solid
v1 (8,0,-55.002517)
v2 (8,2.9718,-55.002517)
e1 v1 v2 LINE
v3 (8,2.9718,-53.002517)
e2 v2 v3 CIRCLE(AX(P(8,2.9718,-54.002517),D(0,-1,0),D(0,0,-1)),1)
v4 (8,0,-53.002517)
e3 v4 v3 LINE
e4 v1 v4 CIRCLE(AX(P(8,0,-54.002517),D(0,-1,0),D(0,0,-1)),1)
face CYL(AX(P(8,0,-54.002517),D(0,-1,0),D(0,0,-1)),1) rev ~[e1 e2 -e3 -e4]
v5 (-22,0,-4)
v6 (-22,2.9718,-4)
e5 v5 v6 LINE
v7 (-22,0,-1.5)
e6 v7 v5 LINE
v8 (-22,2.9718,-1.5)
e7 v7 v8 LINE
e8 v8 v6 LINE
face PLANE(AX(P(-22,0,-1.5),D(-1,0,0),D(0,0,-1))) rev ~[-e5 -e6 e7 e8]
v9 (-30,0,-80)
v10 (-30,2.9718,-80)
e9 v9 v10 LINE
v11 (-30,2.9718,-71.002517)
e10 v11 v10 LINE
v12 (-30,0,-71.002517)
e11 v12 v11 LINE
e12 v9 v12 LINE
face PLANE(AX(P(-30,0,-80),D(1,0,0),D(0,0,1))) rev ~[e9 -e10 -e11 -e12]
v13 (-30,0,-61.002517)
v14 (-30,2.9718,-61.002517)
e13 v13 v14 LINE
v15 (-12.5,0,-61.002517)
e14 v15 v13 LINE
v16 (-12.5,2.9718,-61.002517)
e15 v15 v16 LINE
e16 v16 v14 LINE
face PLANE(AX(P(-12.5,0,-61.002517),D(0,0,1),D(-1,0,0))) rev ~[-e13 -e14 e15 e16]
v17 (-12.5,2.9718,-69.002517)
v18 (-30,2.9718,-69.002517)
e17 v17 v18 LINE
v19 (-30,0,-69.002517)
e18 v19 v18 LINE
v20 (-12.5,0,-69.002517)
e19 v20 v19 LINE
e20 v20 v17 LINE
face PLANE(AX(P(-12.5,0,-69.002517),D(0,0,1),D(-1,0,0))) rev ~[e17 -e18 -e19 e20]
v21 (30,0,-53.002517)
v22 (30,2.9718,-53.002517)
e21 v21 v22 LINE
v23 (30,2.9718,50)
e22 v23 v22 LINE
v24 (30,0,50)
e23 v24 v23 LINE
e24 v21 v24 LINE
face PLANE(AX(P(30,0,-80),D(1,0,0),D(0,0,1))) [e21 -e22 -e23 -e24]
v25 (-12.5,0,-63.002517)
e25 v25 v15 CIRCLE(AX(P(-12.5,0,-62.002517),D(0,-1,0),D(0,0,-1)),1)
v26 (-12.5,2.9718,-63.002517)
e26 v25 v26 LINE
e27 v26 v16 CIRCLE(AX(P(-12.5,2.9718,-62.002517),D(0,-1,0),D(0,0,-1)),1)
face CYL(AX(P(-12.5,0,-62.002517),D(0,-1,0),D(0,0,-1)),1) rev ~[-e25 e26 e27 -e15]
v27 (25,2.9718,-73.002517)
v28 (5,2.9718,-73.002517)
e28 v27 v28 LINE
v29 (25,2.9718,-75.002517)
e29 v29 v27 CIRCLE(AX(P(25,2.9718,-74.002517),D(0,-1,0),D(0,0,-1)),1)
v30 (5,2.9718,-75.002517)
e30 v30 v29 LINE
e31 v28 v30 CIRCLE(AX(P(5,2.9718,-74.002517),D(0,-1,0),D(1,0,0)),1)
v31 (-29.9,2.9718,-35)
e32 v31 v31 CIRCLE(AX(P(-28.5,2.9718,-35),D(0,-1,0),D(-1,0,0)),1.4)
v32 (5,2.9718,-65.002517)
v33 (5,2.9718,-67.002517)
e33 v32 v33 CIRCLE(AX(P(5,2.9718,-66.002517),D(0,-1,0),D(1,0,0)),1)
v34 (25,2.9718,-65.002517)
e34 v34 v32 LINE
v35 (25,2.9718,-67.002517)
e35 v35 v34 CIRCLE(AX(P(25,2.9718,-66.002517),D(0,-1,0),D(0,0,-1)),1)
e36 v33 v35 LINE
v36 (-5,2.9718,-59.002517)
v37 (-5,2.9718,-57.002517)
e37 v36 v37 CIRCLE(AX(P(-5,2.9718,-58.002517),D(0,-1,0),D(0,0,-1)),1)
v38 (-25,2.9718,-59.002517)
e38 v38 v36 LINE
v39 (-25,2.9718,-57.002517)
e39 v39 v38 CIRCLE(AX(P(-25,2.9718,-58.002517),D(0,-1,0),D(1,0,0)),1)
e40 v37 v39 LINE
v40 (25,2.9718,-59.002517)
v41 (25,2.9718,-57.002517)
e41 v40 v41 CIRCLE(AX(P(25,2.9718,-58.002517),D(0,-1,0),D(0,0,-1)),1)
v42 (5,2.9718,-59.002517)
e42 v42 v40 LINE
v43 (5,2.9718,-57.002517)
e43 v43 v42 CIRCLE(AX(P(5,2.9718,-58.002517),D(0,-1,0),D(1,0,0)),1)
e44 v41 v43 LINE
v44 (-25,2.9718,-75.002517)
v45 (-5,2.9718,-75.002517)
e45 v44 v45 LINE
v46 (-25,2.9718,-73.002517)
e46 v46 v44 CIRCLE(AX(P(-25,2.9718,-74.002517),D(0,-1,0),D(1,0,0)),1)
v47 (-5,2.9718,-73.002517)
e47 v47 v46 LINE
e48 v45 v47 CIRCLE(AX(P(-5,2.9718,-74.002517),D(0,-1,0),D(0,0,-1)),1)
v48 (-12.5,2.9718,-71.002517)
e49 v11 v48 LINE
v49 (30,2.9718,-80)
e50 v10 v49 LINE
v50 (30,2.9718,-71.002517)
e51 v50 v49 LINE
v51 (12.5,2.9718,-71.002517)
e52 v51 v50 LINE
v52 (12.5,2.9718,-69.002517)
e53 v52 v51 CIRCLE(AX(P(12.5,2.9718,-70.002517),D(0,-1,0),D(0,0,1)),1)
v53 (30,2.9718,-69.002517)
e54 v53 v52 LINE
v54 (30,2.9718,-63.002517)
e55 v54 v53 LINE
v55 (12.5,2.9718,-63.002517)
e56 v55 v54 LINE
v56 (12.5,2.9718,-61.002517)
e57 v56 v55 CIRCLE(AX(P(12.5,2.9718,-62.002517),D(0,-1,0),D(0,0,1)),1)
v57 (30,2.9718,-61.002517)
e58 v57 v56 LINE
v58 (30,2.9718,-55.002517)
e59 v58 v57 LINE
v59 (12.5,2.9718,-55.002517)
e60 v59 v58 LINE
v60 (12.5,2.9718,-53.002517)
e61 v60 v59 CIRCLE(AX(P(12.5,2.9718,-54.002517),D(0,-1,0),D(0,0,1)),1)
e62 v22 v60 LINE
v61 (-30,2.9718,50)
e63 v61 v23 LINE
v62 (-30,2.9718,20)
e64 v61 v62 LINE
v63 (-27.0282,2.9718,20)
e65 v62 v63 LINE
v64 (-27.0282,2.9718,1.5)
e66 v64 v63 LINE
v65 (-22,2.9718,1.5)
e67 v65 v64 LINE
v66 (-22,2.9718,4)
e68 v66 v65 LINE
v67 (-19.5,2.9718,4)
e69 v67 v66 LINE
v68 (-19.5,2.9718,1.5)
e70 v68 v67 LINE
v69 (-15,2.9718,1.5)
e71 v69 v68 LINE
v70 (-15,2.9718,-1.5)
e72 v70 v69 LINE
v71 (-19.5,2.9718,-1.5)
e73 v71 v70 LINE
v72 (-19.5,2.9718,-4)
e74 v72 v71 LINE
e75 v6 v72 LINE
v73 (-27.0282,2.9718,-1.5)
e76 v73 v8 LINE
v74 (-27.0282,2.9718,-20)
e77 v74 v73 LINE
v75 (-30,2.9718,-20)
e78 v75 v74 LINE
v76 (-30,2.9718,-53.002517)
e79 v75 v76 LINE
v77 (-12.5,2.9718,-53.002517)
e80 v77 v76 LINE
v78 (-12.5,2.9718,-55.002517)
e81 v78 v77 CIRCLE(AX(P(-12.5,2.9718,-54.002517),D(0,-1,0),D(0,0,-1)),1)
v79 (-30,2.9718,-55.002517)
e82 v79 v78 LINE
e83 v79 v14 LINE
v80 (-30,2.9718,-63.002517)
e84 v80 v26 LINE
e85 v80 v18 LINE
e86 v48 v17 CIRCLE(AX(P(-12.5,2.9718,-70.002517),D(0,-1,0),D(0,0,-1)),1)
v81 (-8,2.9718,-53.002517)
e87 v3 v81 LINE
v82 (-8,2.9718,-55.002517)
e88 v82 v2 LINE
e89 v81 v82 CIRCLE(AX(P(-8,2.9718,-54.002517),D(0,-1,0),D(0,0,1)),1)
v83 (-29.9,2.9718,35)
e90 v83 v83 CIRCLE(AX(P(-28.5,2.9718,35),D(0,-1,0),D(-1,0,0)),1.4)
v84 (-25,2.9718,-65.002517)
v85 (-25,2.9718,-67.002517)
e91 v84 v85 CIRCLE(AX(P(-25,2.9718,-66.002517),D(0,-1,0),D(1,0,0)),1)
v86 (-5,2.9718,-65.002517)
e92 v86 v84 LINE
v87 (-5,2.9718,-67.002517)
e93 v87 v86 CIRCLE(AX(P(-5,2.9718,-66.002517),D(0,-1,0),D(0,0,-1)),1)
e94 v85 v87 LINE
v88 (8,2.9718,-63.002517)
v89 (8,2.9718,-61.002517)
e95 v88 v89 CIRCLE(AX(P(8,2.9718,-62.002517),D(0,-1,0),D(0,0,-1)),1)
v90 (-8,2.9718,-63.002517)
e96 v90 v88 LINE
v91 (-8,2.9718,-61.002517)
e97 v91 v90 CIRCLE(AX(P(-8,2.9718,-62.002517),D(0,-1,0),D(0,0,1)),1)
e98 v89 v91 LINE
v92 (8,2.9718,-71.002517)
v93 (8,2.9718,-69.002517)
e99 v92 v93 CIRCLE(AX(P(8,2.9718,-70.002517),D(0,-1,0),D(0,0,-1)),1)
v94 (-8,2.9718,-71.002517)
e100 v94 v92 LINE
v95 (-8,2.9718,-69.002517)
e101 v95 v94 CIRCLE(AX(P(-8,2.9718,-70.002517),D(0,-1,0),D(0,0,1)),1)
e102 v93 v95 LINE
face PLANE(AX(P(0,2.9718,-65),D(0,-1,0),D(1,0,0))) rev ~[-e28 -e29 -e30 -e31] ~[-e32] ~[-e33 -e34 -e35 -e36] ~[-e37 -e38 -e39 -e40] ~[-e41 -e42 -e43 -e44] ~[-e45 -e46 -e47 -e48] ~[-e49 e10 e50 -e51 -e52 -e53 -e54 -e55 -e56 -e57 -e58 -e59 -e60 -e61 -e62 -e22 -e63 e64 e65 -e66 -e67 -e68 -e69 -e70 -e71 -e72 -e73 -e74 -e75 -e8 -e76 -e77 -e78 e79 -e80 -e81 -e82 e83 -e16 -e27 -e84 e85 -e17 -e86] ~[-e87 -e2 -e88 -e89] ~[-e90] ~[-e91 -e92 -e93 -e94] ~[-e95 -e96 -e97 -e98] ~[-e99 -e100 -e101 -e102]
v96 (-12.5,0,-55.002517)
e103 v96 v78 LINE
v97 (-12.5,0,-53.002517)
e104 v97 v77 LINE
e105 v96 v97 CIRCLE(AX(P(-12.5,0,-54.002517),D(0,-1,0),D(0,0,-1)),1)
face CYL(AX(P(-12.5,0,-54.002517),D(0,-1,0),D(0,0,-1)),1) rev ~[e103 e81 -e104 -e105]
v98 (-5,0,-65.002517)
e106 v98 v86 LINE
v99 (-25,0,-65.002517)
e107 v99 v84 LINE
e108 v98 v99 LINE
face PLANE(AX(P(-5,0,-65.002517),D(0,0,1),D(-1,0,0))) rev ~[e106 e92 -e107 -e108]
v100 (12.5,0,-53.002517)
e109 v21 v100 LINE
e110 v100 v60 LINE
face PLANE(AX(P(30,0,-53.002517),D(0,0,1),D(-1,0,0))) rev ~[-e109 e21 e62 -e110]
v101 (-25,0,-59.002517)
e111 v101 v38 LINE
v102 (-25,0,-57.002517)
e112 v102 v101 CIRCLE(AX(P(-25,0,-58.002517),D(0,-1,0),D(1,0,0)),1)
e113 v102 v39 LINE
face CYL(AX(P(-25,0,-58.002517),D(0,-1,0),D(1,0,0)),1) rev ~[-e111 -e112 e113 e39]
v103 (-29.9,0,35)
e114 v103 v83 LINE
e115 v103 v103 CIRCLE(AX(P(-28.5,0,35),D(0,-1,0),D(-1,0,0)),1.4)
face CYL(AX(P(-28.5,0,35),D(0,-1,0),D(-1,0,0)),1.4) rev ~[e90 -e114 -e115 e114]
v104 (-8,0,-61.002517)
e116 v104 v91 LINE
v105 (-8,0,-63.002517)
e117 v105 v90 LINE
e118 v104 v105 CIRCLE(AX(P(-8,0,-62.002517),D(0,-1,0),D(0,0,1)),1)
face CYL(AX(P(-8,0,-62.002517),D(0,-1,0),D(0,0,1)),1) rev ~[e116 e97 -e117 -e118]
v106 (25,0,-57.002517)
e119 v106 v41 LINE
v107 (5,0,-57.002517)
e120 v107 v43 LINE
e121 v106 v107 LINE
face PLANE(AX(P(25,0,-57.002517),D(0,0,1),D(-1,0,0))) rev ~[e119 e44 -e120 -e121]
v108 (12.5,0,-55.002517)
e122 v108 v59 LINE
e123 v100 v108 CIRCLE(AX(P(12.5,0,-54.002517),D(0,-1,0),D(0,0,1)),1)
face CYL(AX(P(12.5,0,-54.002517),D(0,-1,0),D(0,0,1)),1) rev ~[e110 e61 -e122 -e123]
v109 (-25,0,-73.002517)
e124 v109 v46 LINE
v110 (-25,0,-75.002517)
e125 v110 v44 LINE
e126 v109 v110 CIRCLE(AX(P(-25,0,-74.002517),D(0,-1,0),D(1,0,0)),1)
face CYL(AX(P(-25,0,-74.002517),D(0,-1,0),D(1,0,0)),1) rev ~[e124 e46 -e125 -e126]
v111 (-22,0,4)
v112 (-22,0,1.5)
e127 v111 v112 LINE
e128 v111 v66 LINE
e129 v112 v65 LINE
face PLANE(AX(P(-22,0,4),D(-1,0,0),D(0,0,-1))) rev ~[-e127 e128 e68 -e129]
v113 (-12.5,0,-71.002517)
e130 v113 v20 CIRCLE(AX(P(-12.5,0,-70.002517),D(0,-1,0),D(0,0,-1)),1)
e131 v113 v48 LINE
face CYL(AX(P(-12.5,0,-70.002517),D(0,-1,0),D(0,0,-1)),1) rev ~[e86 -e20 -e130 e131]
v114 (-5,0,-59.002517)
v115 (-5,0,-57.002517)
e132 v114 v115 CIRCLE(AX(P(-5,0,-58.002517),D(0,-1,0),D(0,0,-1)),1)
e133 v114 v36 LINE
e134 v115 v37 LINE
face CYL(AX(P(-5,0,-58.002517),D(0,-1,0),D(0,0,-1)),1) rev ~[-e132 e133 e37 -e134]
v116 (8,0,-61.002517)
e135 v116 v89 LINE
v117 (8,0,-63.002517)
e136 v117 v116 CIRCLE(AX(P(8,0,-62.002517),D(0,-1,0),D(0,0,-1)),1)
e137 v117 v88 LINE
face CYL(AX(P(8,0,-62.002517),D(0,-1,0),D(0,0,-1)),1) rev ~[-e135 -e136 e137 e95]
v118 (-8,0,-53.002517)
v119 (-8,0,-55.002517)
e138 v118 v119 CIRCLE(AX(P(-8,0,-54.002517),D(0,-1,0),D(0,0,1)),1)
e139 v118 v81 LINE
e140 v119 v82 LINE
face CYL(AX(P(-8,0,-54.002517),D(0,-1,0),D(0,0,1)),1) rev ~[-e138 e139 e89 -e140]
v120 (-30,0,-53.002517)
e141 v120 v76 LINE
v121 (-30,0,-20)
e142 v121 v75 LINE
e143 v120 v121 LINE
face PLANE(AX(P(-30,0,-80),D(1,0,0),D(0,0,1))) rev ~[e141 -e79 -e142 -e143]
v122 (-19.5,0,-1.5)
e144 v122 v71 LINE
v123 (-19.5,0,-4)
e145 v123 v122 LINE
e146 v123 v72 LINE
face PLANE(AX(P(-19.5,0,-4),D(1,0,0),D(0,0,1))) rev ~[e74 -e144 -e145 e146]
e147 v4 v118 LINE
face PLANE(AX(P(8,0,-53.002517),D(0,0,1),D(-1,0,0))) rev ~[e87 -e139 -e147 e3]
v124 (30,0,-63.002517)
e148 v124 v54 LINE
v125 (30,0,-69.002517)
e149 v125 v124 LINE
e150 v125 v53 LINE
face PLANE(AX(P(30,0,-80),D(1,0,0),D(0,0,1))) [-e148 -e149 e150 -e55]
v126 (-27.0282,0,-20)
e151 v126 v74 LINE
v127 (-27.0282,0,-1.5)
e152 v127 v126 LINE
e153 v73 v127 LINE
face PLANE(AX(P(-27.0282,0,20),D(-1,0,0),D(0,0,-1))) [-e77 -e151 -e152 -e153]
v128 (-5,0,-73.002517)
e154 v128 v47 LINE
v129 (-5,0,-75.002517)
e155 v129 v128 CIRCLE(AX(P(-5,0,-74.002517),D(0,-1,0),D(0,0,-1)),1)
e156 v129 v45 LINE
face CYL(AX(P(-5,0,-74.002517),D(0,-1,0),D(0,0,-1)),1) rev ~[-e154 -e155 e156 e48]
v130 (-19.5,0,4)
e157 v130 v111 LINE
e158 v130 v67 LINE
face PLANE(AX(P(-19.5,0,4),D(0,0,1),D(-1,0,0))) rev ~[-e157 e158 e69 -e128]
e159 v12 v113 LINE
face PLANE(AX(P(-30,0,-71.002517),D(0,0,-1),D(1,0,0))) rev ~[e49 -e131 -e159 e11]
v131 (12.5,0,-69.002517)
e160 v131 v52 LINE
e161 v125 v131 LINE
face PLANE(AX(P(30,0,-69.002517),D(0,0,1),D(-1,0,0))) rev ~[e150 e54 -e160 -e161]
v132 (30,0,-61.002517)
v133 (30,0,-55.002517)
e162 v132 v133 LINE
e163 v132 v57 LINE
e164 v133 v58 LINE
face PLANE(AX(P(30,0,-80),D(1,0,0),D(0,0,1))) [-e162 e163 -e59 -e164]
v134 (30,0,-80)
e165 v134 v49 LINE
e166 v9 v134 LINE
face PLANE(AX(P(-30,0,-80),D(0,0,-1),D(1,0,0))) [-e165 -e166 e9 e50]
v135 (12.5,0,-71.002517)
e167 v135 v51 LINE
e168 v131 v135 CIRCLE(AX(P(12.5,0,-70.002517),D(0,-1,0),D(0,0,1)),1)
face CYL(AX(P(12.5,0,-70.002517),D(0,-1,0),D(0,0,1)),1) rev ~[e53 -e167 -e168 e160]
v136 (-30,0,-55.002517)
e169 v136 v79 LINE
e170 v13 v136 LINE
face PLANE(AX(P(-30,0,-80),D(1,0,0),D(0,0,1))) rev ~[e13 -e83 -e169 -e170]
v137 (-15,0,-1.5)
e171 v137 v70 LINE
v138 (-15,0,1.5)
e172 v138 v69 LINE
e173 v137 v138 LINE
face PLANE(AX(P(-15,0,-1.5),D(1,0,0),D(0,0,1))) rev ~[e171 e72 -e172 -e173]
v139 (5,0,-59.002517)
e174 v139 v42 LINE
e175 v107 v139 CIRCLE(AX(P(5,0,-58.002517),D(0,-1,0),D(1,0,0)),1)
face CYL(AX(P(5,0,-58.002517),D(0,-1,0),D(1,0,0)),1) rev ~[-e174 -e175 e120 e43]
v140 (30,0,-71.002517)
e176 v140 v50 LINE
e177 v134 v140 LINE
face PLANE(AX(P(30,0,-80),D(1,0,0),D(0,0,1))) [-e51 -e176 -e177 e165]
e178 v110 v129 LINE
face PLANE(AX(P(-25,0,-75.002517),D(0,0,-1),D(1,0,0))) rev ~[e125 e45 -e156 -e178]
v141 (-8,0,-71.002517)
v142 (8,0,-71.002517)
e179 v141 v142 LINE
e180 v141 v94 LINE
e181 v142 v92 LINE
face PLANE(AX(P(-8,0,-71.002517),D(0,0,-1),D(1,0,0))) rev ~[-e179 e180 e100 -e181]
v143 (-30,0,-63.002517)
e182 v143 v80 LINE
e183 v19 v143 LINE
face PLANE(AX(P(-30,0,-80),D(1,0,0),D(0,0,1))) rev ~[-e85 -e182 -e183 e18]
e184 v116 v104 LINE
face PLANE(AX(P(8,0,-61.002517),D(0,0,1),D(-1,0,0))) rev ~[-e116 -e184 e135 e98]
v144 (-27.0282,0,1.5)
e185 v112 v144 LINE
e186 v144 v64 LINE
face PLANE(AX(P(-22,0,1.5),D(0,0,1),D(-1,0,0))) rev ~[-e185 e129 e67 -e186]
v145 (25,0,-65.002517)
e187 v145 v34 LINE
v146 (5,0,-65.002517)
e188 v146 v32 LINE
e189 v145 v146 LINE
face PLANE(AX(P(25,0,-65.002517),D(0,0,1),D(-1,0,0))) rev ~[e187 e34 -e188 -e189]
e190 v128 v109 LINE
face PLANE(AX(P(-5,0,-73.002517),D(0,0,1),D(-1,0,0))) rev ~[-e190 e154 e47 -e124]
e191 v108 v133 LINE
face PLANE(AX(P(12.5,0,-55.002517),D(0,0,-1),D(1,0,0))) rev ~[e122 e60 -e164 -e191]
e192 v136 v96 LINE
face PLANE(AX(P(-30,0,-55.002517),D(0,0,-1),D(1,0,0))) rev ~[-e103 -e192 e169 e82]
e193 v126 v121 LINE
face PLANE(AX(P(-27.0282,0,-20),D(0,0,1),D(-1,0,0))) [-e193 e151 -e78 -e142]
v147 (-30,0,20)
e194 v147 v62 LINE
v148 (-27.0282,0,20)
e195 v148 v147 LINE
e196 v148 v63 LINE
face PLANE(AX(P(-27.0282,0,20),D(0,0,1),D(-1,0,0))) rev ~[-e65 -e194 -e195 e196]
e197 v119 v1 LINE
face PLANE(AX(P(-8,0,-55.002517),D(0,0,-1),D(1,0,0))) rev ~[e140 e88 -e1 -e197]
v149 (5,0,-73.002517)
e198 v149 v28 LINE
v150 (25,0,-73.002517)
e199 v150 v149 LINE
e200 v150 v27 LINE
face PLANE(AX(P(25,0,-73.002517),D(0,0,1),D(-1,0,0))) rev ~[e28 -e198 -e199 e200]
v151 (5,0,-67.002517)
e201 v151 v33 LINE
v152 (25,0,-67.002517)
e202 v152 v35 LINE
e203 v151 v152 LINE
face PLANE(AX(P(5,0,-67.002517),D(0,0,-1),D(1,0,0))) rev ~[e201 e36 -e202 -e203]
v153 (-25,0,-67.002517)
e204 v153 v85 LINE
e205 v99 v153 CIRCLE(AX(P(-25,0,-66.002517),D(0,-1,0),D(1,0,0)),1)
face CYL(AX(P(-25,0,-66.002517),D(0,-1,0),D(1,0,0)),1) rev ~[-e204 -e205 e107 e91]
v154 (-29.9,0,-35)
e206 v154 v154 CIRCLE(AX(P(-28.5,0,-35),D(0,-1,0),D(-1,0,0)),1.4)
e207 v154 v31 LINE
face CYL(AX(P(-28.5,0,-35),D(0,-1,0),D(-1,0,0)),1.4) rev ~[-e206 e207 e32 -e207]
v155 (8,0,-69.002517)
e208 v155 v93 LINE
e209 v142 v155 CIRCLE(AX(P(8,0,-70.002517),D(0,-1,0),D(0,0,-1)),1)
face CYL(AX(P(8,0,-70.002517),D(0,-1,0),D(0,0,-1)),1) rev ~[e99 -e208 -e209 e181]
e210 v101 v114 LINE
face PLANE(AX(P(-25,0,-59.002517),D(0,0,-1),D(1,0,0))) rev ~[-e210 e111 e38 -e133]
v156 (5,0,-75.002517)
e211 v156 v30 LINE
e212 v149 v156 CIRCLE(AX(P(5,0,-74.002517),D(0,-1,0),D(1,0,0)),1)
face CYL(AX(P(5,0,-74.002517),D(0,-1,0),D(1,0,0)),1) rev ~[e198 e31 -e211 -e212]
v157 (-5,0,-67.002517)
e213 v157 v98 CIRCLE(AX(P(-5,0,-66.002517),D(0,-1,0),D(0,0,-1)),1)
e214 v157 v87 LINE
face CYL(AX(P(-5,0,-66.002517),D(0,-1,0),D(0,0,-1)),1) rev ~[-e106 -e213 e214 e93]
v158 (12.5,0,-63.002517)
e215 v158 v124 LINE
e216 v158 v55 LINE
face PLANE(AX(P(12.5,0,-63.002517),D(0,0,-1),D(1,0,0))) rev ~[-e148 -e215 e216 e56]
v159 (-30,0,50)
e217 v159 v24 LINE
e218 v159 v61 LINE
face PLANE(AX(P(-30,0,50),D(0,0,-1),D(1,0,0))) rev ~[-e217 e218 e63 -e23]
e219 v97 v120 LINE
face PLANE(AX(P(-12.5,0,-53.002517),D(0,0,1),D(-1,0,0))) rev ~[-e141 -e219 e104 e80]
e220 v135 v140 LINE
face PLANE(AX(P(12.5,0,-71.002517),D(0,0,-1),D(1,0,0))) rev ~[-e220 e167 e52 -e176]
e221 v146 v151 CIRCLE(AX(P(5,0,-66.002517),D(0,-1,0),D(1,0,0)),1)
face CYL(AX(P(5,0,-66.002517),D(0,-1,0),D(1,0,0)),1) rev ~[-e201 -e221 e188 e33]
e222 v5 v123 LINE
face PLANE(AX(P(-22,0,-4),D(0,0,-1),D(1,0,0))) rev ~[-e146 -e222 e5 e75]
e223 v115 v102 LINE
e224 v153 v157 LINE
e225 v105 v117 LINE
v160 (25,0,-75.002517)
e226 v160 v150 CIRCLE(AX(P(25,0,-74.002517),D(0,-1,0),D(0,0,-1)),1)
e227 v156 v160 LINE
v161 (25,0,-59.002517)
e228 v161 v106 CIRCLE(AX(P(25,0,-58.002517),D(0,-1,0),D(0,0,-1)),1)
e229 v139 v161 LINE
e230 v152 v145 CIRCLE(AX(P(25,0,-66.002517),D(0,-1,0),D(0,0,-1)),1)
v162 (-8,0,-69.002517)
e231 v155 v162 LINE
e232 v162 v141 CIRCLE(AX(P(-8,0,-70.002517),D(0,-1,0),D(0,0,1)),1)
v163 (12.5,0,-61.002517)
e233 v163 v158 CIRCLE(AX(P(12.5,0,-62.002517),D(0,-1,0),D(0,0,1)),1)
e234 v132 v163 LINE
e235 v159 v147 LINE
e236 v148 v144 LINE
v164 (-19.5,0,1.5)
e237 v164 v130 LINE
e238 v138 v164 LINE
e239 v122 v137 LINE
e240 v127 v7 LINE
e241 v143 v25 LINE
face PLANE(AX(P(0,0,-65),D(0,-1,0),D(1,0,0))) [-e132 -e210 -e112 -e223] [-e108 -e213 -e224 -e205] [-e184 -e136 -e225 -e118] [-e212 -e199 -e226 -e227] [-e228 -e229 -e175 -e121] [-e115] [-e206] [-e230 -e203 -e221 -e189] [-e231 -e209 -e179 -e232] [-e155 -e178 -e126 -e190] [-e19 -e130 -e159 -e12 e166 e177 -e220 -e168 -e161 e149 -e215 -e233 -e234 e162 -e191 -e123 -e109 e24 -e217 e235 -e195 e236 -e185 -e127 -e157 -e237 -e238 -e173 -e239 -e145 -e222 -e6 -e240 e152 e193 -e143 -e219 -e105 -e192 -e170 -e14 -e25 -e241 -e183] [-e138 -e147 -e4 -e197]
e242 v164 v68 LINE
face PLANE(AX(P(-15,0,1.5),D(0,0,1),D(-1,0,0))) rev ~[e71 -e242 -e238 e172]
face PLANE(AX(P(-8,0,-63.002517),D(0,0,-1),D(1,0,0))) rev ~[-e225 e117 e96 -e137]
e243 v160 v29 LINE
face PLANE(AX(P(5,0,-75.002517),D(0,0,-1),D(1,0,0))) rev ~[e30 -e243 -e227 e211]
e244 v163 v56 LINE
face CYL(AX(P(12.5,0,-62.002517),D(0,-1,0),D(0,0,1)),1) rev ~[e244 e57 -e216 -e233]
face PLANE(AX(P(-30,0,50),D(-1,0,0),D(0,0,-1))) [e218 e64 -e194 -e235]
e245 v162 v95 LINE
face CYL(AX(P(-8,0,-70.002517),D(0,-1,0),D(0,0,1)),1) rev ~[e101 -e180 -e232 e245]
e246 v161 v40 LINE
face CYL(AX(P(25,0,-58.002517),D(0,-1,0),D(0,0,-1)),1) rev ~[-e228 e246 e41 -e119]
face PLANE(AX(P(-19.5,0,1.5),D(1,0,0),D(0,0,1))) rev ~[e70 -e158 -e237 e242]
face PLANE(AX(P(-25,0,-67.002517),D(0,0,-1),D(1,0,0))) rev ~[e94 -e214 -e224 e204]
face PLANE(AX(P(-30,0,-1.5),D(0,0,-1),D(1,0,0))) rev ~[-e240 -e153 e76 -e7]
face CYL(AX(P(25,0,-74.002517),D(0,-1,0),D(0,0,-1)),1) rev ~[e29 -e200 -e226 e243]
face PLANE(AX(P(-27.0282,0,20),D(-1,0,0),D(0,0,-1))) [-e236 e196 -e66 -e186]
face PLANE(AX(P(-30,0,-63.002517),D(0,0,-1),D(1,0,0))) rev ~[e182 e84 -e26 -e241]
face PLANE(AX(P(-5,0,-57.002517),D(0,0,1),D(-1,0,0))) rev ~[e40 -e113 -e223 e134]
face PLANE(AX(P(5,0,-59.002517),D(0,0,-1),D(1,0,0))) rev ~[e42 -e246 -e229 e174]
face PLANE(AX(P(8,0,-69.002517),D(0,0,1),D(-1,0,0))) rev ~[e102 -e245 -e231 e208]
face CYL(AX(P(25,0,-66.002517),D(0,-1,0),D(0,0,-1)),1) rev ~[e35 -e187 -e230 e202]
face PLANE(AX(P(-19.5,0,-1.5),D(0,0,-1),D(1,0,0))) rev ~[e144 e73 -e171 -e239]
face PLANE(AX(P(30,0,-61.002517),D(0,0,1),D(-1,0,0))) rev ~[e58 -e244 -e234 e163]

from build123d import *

# Parameters (mm, degrees)
SKETCH_1_W                  = 60
SKETCH_1_H                  = 100
EXTRUDE_1_DEPTH             = 2.9718
SKETCH_2_W                  = 2.9718
SKETCH_2_H                  = 40
CUT_EXTRUDE_1_DEPTH         = 10
SKETCH_4_W                  = 60
SKETCH_4_H                  = 30
EXTRUDE_2_DEPTH             = 2.9718
CUT_EXTRUDE_2_DEPTH         = 2.9718
PATTERN_LINEAR_1_COUNT      = 3
PATTERN_LINEAR_1_PITCH      = 8
SKETCH_5_R                  = 1
CUT_EXTRUDE_3_DEPTH         = 10
PATTERN_LINEAR_2_COUNT      = 3
PATTERN_LINEAR_2_PITCH      = 8
PATTERN_LINEAR_2_COUNT_DIR2 = 2
PATTERN_LINEAR_2_PITCH_DIR2 = 30
CUT_EXTRUDE_4_DEPTH         = 10
SKETCH_8_R                  = 1.4
CUT_EXTRUDE_5_DEPTH         = 10
PATTERN_LINEAR_3_COUNT      = 4
PATTERN_LINEAR_3_PITCH      = 70


with BuildPart() as part:
    # 草图1 → 凸台-拉伸1 (new body)
    with BuildSketch(Plane(origin=(0, 0, 0), x_dir=(1, 0, 0), z_dir=(0, 1, 0))):
        Rectangle(SKETCH_1_W, SKETCH_1_H)
    extrude(amount=EXTRUDE_1_DEPTH)

    # 草图2 → 切除-拉伸1 (cut)
    with BuildSketch(Plane(origin=(0, 0, 0), x_dir=(-1, 0, 0), z_dir=(0, -1, 0))):
        with Locations((28.5141, 0)):
            Rectangle(SKETCH_2_W, SKETCH_2_H)
    extrude(amount=-CUT_EXTRUDE_1_DEPTH, mode=Mode.SUBTRACT)

    # 草图4 → 凸台-拉伸2 (add)
    with BuildSketch(Plane.XZ):
        with Locations((0, -65)):
            Rectangle(SKETCH_4_W, SKETCH_4_H)
    extrude(amount=-EXTRUDE_2_DEPTH)

    # 草图3 → 切除-拉伸2 (cut)
    with BuildSketch(Plane(origin=(0, 0, 0), x_dir=(-1, 0, 0), z_dir=(0, -1, 0))):
        with BuildLine():
            Line((-12.5, 55.002516758), (-30, 55.002516758))
            Line((-30, 55.002516758), (-30, 53.002516758))
            Line((-30, 53.002516758), (-12.5, 53.002516758))
            ThreePointArc((-12.5, 53.002516758), (-11.5, 54.002516758), (-12.5, 55.002516758))
        make_face()
        with BuildLine():
            Line((30, 53.002516758), (30, 55.002516758))
            Line((30, 55.002516758), (12.5, 55.002516758))
            ThreePointArc((12.5, 55.002516758), (11.5, 54.002516758), (12.5, 53.002516758))
            Line((12.5, 53.002516758), (30, 53.002516758))
        make_face()
        with BuildLine():
            Line((8, 55.002516758), (-8, 55.002516758))
            ThreePointArc((-8, 55.002516758), (-9, 54.002516758), (-8, 53.002516758))
            Line((-8, 53.002516758), (8, 53.002516758))
            ThreePointArc((8, 53.002516758), (9, 54.002516758), (8, 55.002516758))
        make_face()
    cut_extrude_2 = extrude(amount=-CUT_EXTRUDE_2_DEPTH, mode=Mode.SUBTRACT)

    # 阵列(线性)1: 切除-拉伸2 ×3
    with Locations(*[(0, 0, -i * PATTERN_LINEAR_1_PITCH) for i in range(1, PATTERN_LINEAR_1_COUNT)]):
        add(cut_extrude_2, mode=Mode.SUBTRACT)

    # 草图5 → 切除-拉伸3 (cut)
    with BuildSketch(Plane.XZ):
        with BuildLine():
            Line((-5, -57.002516758), (-25, -57.002516758))
            ThreePointArc((-25, -57.002516758), (-24.292893219, -57.295409977), (-24, -58.002516758))
            ThreePointArc((-24, -58.002516758), (-24.292893219, -58.709623539), (-25, -59.002516758))
            Line((-25, -59.002516758), (-5, -59.002516758))
            ThreePointArc((-5, -59.002516758), (-6, -58.002516758), (-5, -57.002516758))
        make_face()
        with Locations((-25, -58.002516758)):
            Circle(SKETCH_5_R)
        with Locations((-5, -58.002516758)):
            Circle(SKETCH_5_R)
    cut_extrude_3 = extrude(amount=-CUT_EXTRUDE_3_DEPTH, mode=Mode.SUBTRACT)

    # 阵列(线性)2: Cut-Extrude 3 3 × 2
    with Locations(*[(j * PATTERN_LINEAR_2_PITCH_DIR2, 0, -i * PATTERN_LINEAR_2_PITCH) for i in range(PATTERN_LINEAR_2_COUNT) for j in range(PATTERN_LINEAR_2_COUNT_DIR2) if (i, j) != (0, 0)]):
        add(cut_extrude_3, mode=Mode.SUBTRACT)

    # 草图7 → 切除-拉伸4 (cut)
    with BuildSketch(Plane.XZ):
        Polygon((-30, 1.5), (-30, 0), (-15, 0), (-15, 1.5), (-19.5, 1.5), (-19.5, 4), (-22, 4), (-22, 1.5), align=None)
        Polygon((-30, 0), (-30, -1.5), (-22, -1.5), (-22, -4), (-19.5, -4), (-19.5, -1.5), (-15, -1.5), (-15, 0), align=None)
    extrude(amount=-CUT_EXTRUDE_4_DEPTH, mode=Mode.SUBTRACT)

    # 草图8 → 切除-拉伸5 (cut)
    with BuildSketch(Plane(origin=(0, 0, 0), x_dir=(-1, 0, 0), z_dir=(0, -1, 0))):
        with Locations((28.5, -35)):
            Circle(SKETCH_8_R)
    cut_extrude_5 = extrude(amount=-CUT_EXTRUDE_5_DEPTH, mode=Mode.SUBTRACT)

    # 阵列(线性)3: 切除-拉伸5 ×4
    with Locations(*[(0, 0, -i * PATTERN_LINEAR_3_PITCH) for i in range(1, PATTERN_LINEAR_3_COUNT)]):
        add(cut_extrude_5, mode=Mode.SUBTRACT)


solid = part.part
